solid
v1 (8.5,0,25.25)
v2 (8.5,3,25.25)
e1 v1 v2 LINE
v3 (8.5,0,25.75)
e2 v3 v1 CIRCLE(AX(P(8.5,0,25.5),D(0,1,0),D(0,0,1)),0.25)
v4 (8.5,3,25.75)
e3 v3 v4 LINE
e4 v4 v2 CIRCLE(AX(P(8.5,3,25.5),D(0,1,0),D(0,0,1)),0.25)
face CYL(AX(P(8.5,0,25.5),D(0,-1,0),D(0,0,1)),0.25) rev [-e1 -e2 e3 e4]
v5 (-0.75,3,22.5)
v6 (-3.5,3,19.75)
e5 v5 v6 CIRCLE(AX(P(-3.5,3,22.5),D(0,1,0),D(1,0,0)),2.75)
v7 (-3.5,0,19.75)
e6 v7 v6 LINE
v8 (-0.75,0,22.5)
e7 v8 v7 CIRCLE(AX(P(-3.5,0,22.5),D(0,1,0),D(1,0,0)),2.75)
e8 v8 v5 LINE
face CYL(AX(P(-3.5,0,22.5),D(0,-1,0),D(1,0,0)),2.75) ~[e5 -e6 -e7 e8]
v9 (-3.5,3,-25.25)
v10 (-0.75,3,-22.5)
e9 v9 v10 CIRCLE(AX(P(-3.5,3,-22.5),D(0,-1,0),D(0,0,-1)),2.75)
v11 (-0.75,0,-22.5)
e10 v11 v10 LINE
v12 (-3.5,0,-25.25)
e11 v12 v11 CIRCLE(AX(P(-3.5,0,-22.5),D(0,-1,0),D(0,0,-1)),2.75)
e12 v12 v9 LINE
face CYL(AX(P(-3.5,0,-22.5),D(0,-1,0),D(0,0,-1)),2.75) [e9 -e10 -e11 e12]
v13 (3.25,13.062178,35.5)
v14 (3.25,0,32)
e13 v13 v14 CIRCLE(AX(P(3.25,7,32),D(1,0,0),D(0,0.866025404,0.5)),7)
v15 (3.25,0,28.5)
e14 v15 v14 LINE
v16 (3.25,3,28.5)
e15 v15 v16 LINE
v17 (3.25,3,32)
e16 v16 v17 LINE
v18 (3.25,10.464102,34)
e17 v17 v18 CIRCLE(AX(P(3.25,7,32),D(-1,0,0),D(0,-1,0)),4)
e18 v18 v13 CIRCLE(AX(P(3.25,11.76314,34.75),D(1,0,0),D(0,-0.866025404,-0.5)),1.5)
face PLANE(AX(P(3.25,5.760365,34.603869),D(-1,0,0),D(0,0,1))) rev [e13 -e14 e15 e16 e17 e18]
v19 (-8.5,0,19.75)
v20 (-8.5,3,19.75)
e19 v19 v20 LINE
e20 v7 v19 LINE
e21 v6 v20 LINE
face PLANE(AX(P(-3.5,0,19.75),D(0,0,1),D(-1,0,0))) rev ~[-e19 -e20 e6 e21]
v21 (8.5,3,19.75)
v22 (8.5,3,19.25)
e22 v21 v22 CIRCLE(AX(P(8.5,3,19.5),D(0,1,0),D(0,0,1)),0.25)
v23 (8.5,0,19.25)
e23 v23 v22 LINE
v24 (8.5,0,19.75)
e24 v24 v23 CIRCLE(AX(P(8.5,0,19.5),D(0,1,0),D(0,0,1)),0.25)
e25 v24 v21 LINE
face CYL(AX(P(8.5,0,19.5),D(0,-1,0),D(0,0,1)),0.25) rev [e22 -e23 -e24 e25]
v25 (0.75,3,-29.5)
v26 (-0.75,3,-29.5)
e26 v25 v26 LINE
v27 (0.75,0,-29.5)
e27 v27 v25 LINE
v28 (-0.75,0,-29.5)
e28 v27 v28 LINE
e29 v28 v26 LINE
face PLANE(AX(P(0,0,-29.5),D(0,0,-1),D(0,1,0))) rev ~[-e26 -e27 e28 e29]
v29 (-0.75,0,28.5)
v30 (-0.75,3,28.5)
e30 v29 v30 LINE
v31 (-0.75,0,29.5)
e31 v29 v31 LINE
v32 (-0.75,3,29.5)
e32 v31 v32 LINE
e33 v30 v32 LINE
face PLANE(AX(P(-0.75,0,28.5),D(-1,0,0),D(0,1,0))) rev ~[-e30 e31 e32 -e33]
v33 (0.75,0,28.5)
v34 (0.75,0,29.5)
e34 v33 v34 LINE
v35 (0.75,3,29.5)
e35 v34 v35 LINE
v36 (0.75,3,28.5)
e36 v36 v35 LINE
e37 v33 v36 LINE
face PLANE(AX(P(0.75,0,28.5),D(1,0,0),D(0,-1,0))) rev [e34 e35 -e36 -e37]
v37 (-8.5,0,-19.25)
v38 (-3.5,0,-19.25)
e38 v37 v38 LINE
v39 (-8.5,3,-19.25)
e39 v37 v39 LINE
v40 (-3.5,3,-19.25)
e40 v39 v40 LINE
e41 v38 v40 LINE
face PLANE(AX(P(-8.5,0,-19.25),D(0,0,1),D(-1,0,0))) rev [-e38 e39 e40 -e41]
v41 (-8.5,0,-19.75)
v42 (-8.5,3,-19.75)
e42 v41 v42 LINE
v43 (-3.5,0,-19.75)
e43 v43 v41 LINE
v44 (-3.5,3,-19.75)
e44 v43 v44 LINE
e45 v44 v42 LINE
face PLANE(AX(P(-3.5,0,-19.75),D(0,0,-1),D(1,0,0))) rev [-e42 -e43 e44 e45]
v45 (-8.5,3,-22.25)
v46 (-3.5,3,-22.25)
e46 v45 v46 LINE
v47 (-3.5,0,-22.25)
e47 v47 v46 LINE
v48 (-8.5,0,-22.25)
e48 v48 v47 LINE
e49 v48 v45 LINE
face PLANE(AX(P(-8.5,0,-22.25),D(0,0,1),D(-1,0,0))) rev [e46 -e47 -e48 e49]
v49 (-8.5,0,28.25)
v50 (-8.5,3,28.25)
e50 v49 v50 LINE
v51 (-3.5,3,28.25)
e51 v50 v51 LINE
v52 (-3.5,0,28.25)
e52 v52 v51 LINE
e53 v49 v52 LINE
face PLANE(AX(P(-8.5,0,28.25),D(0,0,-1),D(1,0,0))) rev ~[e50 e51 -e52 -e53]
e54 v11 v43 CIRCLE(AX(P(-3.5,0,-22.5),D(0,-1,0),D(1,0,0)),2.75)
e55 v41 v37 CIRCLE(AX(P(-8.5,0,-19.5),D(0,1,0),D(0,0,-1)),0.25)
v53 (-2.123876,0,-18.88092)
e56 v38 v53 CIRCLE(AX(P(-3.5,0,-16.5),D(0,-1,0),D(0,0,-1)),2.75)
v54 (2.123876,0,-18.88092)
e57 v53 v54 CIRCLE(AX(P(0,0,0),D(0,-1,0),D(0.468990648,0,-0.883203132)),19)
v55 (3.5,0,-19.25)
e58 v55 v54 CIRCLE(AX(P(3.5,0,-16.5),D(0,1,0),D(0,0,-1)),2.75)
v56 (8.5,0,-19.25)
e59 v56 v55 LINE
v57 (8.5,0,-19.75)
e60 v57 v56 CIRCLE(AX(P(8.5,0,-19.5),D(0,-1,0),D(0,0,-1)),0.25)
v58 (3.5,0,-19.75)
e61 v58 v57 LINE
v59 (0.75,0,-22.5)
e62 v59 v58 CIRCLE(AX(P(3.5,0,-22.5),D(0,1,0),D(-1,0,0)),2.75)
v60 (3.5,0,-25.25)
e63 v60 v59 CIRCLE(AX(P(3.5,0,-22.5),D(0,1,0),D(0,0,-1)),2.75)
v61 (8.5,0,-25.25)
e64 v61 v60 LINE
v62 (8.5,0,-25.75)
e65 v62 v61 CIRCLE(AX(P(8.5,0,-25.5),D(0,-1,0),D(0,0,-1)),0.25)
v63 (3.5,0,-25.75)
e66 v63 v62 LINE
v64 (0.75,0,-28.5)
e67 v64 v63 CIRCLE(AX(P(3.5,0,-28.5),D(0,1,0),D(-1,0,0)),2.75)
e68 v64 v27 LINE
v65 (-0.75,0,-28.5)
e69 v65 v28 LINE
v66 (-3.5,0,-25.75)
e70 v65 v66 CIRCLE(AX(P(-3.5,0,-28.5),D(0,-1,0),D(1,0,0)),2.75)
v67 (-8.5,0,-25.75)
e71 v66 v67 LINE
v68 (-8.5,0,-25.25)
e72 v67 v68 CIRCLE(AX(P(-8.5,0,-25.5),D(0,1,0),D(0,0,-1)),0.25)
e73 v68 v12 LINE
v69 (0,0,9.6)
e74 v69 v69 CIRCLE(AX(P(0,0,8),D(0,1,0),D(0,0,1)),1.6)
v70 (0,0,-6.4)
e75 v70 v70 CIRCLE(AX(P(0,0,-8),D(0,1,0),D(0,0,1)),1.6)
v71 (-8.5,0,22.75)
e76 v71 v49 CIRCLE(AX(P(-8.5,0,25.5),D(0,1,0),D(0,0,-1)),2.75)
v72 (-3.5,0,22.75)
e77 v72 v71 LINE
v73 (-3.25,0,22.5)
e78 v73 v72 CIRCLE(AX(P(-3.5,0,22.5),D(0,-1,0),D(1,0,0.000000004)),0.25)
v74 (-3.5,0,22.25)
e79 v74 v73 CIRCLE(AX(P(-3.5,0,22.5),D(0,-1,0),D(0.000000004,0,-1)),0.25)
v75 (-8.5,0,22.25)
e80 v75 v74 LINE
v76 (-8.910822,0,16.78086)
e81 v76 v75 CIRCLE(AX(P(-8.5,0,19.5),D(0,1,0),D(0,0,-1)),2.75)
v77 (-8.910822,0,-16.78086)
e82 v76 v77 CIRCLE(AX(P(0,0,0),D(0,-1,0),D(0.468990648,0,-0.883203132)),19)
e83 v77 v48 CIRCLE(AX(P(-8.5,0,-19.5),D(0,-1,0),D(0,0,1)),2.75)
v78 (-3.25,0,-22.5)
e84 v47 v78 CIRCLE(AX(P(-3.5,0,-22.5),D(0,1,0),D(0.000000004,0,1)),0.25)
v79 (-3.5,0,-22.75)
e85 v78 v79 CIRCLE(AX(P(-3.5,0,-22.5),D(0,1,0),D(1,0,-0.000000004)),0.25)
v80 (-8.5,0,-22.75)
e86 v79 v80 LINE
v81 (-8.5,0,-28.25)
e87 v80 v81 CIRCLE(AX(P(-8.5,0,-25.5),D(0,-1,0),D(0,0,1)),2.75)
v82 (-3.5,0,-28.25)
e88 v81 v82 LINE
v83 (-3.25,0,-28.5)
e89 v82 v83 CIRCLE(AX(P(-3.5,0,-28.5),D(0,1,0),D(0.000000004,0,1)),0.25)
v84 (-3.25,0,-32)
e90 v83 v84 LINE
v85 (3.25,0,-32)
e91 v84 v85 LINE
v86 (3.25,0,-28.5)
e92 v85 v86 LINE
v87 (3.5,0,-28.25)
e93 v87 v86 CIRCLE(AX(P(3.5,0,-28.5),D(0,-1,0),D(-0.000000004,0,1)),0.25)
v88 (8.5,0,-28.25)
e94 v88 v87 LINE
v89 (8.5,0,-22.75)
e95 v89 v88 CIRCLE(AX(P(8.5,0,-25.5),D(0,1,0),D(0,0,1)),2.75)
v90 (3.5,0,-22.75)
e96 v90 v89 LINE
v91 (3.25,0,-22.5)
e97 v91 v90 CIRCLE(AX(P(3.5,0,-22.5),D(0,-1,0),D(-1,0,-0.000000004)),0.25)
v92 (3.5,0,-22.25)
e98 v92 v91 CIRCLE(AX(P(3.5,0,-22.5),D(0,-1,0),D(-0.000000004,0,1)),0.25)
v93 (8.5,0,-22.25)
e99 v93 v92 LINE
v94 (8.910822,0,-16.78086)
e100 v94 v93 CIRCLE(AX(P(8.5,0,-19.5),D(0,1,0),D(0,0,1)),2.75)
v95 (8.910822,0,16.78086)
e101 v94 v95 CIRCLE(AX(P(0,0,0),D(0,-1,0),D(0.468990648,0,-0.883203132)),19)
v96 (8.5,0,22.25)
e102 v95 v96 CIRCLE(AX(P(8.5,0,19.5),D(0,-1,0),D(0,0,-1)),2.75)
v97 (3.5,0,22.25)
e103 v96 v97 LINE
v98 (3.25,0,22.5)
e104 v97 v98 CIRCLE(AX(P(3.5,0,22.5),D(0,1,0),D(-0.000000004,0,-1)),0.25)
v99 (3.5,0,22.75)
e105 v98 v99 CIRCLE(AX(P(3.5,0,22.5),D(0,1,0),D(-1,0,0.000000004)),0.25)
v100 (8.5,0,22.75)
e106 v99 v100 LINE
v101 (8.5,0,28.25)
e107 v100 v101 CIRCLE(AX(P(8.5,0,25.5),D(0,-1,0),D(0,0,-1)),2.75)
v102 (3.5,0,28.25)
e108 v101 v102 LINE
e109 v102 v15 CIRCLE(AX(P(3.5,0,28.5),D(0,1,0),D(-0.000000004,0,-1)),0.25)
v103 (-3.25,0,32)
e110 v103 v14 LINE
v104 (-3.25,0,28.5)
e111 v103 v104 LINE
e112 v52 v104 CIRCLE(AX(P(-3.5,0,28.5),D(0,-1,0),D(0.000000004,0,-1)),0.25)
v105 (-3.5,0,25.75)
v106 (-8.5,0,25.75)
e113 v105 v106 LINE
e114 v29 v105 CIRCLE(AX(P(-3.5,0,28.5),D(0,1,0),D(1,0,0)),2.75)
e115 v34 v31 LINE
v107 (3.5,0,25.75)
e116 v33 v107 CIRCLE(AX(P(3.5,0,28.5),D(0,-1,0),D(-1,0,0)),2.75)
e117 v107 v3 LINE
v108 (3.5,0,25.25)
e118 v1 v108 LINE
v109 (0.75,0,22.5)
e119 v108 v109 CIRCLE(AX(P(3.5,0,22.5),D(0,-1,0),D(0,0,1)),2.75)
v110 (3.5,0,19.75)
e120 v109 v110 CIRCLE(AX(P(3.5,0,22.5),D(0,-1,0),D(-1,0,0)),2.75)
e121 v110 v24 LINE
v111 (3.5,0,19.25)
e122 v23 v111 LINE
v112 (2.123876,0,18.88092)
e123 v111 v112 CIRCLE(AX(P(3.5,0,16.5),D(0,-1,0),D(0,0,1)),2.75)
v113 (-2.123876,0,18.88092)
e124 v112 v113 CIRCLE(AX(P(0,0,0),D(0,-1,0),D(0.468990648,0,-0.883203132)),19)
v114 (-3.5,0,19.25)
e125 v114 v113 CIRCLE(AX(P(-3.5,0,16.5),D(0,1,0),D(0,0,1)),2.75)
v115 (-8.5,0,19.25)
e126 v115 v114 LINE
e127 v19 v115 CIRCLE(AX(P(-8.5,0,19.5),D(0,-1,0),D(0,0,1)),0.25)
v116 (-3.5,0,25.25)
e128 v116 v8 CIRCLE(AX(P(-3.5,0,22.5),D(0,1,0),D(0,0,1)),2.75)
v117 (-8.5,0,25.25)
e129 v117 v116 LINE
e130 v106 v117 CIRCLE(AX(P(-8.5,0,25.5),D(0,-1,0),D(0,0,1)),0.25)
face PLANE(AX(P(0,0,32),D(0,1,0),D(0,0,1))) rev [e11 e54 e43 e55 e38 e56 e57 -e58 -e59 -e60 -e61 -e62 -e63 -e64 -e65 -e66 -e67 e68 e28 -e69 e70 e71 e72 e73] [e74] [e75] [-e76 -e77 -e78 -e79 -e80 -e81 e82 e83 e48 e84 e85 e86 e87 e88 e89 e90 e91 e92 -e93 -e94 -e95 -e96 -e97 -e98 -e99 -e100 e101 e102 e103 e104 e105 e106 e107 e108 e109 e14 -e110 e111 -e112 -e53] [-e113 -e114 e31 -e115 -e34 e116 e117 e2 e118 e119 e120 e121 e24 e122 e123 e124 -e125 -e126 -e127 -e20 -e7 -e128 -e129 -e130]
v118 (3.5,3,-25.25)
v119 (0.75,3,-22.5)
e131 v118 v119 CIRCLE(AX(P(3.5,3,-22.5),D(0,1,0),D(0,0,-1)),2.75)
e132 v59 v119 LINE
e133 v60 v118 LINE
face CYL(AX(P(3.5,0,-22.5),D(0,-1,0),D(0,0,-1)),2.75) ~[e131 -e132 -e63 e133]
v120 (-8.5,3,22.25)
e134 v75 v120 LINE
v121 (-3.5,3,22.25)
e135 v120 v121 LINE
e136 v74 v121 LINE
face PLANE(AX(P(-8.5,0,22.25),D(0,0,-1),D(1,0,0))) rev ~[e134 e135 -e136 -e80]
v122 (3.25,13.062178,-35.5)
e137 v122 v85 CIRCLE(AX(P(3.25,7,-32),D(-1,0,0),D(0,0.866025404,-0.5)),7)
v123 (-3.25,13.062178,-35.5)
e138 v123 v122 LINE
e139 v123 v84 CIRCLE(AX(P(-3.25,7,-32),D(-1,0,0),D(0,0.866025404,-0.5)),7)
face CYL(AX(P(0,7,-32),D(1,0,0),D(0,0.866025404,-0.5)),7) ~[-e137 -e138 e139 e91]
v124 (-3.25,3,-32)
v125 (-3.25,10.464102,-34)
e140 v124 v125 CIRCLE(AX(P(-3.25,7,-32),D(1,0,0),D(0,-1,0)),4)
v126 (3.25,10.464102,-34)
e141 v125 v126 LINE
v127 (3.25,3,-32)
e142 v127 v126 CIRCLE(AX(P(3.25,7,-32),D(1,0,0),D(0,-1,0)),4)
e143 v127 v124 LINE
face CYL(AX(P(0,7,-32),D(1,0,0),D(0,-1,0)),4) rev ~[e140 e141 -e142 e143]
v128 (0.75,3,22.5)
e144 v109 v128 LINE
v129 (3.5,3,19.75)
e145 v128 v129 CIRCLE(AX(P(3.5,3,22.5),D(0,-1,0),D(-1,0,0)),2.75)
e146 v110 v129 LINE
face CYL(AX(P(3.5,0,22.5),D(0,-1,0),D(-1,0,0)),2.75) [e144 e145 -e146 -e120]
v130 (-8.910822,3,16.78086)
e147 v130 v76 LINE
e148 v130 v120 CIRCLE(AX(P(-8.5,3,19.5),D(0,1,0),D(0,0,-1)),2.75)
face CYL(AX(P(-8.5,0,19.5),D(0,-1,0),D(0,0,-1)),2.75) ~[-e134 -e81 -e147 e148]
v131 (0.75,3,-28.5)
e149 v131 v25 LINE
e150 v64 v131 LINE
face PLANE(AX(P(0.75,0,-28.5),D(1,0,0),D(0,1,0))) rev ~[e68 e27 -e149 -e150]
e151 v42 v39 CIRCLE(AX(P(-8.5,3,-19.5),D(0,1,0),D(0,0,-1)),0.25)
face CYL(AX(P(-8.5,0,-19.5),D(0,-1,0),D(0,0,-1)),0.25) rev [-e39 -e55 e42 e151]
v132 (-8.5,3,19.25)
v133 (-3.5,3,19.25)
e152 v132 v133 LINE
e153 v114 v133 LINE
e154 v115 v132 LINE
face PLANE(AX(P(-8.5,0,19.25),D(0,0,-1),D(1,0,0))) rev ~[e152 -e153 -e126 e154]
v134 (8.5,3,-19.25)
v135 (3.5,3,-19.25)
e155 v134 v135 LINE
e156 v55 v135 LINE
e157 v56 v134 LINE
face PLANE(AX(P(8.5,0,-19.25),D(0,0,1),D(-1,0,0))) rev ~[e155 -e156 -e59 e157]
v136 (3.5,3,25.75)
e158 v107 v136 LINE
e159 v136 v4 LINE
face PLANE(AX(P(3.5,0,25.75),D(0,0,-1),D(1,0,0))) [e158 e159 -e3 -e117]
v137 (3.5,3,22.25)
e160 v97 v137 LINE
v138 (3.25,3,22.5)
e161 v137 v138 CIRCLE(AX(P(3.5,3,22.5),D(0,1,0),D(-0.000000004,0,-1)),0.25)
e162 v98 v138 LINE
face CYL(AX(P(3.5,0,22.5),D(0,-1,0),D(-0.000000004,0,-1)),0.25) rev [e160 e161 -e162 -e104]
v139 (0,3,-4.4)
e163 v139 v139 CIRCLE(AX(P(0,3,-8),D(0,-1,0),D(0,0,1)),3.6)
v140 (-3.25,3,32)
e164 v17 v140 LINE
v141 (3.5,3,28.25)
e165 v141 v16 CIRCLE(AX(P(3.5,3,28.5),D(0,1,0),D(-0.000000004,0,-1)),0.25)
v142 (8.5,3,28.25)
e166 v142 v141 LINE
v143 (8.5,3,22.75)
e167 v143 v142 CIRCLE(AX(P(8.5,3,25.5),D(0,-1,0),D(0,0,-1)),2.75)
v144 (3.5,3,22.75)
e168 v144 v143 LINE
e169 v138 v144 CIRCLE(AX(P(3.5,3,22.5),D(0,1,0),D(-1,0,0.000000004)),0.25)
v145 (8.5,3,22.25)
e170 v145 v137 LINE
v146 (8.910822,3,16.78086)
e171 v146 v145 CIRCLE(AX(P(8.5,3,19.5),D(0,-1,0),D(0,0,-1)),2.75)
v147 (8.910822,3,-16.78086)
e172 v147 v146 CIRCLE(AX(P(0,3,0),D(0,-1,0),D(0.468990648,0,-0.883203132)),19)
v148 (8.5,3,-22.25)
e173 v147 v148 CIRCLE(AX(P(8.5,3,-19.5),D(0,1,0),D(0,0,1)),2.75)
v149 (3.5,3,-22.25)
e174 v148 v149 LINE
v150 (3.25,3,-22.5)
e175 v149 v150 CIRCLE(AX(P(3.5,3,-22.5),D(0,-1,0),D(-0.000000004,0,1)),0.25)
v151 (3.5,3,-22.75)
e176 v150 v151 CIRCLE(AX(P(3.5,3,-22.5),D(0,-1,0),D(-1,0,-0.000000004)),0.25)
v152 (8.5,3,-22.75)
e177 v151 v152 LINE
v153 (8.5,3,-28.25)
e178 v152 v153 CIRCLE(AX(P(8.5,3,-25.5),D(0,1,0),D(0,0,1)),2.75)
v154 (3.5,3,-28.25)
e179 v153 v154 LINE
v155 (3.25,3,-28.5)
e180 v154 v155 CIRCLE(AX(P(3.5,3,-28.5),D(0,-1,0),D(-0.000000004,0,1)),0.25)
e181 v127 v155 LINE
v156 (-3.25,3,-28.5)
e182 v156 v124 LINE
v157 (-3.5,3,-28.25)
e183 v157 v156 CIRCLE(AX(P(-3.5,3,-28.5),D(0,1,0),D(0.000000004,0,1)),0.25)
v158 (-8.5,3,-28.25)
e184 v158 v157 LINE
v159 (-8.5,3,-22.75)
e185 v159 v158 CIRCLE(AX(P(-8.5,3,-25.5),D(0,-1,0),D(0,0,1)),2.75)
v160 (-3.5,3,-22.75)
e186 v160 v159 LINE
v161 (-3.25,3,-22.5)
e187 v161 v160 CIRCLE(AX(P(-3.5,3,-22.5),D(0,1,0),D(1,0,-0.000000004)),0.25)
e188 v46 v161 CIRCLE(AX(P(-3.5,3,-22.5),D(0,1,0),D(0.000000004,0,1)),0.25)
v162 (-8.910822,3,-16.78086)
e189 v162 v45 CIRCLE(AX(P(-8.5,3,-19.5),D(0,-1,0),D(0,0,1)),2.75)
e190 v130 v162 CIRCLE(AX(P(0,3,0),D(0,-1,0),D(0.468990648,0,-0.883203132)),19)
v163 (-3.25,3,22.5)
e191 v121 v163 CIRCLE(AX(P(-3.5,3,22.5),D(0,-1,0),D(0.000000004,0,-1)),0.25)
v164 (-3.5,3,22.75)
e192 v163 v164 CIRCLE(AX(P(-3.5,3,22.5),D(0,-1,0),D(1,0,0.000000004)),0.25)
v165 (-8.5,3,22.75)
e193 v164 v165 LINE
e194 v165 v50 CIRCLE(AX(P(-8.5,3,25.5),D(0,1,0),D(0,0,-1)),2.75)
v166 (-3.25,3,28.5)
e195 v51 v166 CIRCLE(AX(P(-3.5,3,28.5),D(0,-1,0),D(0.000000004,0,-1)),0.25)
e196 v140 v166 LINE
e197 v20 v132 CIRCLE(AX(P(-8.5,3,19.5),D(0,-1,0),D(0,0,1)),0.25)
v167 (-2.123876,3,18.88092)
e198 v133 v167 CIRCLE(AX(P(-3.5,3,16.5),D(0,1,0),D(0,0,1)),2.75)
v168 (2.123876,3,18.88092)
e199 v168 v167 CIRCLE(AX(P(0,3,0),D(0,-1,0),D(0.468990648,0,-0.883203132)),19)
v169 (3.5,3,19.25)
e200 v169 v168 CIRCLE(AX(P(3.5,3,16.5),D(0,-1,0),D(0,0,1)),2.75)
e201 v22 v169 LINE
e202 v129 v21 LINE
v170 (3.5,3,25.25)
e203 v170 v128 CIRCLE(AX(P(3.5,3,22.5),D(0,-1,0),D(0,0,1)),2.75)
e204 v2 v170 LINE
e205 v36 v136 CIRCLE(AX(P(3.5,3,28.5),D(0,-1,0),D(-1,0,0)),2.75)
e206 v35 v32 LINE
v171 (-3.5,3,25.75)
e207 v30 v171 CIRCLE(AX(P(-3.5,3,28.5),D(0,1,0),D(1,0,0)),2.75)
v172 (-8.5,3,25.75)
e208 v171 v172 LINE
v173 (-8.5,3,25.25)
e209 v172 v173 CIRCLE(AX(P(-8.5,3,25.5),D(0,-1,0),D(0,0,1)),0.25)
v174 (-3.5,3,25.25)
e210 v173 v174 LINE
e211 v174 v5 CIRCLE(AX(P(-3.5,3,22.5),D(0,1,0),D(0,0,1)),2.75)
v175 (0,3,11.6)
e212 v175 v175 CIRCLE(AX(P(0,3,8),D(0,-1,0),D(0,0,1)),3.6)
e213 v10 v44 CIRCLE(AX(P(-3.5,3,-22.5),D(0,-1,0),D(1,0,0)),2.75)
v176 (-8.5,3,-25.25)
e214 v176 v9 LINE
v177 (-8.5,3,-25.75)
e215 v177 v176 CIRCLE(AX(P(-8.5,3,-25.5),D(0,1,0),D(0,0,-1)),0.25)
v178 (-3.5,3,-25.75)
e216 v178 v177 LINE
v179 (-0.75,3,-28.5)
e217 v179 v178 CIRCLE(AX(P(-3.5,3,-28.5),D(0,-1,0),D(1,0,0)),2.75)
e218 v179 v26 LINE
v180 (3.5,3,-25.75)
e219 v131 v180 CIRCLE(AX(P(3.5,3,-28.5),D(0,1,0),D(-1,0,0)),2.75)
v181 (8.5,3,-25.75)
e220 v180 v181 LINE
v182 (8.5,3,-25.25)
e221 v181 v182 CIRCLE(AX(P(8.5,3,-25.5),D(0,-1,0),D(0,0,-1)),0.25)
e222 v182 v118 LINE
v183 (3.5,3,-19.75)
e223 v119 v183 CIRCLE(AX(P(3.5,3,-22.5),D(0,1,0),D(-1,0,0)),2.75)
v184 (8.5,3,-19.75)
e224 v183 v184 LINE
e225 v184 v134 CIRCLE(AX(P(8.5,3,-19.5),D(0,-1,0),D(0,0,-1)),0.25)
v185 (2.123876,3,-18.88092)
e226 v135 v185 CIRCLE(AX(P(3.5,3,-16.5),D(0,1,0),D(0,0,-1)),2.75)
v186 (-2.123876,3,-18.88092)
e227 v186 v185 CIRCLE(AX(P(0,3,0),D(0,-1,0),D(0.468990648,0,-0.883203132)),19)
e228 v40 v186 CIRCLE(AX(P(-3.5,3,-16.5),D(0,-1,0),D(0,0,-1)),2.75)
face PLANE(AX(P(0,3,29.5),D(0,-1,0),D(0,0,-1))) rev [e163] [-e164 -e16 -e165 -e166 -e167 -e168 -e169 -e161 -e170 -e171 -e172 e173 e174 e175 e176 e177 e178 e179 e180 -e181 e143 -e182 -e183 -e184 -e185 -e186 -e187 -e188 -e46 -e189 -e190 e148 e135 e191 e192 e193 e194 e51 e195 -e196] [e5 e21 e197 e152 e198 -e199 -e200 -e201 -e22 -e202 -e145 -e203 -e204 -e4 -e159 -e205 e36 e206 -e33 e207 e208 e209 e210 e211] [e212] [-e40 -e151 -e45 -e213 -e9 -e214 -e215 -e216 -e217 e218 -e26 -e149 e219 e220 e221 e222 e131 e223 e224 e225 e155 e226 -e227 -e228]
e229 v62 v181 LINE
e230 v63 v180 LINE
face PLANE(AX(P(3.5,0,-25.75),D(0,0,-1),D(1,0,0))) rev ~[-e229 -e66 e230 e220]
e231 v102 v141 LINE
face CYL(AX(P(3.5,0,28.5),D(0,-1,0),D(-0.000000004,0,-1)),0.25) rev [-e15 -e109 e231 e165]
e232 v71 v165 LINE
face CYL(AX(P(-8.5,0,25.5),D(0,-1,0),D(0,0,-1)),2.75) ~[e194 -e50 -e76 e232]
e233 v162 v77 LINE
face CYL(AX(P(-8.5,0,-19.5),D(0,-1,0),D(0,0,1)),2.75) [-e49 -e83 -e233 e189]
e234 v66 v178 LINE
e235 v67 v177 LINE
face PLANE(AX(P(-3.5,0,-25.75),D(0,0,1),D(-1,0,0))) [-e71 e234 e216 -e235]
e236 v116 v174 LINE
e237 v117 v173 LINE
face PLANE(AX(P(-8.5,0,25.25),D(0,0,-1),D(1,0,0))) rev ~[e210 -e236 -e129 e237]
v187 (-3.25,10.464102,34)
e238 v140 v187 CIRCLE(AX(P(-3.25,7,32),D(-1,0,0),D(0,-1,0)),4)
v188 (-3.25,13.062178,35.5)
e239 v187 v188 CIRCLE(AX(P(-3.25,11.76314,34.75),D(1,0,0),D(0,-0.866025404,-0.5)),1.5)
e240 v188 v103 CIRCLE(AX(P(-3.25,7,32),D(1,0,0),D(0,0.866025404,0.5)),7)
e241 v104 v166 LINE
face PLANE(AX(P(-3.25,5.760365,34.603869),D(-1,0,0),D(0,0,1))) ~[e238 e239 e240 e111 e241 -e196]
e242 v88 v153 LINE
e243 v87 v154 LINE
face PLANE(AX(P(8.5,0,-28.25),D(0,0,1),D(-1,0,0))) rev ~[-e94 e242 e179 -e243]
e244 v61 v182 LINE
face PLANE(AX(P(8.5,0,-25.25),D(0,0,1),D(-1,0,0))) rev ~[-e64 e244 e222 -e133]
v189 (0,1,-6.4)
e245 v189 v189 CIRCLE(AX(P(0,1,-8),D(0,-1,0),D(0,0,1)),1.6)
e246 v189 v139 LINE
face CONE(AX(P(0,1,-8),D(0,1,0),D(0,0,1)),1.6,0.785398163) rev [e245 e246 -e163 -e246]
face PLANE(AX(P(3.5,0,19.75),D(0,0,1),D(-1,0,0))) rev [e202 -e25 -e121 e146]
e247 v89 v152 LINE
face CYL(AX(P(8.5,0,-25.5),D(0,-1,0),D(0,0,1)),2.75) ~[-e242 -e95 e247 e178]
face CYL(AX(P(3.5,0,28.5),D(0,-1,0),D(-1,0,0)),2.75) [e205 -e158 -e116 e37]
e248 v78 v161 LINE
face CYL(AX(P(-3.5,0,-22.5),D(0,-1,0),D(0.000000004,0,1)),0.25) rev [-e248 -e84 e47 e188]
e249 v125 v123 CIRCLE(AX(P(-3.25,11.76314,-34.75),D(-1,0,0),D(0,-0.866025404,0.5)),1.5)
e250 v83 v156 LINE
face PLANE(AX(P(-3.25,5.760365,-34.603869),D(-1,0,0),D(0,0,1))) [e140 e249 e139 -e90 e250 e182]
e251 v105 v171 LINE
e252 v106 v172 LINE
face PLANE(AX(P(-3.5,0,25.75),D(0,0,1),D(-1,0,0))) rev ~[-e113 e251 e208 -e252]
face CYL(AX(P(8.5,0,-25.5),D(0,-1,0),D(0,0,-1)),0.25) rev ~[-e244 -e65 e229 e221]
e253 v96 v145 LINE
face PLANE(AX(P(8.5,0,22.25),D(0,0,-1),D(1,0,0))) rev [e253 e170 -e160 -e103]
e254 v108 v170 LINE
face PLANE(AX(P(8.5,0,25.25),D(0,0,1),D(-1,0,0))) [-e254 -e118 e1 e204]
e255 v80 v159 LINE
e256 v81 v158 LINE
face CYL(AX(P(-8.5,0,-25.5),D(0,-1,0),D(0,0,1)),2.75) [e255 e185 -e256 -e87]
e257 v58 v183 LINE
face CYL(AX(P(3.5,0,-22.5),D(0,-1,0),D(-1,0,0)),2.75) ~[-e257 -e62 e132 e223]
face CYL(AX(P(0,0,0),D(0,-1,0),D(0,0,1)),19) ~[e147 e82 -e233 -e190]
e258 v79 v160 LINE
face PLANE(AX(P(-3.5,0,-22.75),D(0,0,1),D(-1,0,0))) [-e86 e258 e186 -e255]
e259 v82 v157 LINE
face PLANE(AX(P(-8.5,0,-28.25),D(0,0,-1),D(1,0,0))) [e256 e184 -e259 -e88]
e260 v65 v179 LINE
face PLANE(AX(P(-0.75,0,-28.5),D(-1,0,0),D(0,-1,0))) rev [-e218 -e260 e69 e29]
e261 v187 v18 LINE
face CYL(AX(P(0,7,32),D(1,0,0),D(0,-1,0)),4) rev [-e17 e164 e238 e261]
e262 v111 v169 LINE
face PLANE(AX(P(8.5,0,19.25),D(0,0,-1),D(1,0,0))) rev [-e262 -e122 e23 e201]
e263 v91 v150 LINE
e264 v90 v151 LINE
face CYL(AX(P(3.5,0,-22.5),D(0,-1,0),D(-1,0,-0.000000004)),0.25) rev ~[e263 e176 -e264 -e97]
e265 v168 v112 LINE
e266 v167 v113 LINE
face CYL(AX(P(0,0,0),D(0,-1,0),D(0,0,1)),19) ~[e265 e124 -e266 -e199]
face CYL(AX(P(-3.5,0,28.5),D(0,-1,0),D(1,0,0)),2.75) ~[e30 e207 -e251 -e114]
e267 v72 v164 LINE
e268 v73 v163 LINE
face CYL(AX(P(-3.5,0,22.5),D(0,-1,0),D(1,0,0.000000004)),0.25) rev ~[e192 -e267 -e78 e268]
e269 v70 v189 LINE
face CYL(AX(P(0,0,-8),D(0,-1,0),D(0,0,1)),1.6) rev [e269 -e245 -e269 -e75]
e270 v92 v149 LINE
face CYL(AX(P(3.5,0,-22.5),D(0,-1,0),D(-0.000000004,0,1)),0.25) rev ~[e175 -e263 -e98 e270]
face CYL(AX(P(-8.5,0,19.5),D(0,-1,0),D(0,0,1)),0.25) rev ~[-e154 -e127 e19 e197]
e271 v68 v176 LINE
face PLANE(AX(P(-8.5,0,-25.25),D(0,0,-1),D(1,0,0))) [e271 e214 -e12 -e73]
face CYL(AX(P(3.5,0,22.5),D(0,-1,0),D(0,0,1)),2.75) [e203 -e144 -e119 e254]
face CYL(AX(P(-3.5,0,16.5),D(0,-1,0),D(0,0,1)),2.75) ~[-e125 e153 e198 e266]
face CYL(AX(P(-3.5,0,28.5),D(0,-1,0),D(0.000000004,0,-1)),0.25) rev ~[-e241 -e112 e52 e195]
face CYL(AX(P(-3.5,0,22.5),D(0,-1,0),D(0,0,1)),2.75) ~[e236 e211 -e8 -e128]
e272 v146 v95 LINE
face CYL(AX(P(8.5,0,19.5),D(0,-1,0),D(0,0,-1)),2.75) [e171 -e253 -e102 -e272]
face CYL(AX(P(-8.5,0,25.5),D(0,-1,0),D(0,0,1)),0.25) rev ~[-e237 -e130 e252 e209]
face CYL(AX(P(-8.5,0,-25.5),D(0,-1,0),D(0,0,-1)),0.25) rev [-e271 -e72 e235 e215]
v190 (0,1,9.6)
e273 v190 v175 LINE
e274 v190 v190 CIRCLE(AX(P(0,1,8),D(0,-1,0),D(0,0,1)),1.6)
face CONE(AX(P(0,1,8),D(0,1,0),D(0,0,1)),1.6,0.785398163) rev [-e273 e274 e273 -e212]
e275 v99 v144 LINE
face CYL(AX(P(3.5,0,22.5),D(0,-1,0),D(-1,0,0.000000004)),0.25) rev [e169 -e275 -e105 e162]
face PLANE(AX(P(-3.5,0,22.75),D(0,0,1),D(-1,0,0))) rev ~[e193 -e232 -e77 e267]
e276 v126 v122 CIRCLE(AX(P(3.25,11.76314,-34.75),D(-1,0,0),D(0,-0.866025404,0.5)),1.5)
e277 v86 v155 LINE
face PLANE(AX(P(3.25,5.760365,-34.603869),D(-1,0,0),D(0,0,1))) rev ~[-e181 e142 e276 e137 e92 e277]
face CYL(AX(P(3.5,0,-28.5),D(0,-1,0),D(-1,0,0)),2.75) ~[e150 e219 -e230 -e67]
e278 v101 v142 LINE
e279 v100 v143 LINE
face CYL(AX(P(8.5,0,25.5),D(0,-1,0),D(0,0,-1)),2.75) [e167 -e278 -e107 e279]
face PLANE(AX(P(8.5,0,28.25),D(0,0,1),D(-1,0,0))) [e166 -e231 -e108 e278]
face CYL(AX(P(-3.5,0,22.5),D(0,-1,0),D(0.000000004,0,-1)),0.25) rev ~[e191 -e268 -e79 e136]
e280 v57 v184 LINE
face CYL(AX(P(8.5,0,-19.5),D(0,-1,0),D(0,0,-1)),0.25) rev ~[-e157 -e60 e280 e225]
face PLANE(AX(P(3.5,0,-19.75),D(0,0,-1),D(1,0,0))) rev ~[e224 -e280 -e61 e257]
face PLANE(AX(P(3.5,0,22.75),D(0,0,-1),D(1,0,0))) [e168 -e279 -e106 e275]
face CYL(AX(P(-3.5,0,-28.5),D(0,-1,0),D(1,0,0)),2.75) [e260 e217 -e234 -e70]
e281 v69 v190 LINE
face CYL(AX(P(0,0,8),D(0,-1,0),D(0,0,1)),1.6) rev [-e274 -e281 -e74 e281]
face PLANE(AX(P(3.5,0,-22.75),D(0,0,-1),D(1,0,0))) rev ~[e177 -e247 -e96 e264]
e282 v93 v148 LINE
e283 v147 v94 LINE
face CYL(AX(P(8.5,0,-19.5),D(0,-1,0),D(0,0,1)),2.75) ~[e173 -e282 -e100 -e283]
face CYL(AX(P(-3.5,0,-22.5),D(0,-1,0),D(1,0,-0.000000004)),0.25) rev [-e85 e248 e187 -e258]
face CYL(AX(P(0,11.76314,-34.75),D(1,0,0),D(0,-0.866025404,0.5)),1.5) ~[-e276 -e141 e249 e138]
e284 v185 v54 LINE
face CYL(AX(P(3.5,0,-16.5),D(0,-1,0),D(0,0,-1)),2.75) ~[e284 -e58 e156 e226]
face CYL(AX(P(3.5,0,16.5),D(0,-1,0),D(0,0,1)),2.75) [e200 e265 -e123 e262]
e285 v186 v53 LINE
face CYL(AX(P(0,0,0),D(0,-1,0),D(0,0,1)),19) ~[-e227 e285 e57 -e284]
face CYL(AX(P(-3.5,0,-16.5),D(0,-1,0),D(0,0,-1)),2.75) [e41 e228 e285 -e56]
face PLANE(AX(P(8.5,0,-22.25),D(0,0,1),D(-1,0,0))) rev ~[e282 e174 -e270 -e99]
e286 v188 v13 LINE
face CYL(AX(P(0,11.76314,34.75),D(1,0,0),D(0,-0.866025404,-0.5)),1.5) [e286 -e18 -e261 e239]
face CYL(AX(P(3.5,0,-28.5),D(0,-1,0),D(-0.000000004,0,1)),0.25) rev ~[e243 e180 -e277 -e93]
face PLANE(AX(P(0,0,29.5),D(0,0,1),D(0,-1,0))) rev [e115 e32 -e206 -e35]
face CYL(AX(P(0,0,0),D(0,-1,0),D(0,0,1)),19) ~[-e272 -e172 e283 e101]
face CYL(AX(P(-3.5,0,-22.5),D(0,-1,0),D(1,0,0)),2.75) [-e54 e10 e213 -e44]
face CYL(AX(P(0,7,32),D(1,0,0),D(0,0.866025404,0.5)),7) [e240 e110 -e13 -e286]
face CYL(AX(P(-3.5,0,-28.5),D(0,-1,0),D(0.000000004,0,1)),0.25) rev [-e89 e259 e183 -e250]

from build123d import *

# Parameters (mm, degrees)
SKETCH1_R                                  = 19
BODY_DEPTH                                 = 3
SPRING_PROFILE_DEPTH                       = 3
SPRING_PATTERN_COUNT                       = 2
SPRING_PATTERN_PITCH                       = 6
SKETCH5_W                                  = 2.5
SKETCH5_H                                  = 3
SPRING_EXTENSION_DEPTH                     = 1
MIRROR1_COPY_1_DEPTH                       = 3
MIRROR1_AT_THE_SECOND_PLANE_COPY_1_DEPTH   = 3
MIRROR1_AT_THE_SECOND_PLANE_COPY_2_DEPTH   = 3
MIRROR1_AT_THE_SECOND_PLANE_COPY_3_SKETC_W = 2.5
MIRROR1_AT_THE_SECOND_PLANE_COPY_3_SKETC_H = 3
MIRROR1_AT_THE_SECOND_PLANE_COPY_3_DEPTH   = 1
MIRROR1_AT_THE_SECOND_PLANE_COPY_4_DEPTH   = 3
CLAMP_DEPTH                                = 3.25
SKETCH6_R                                  = 1.6
SCREW_HOLES_DEPTH                          = 46.364202575
SCREW_CHAMFER_SIZE                         = 2


with BuildPart() as part:
    # Sketch1 → Body (new body)
    with BuildSketch(Plane(origin=(0, 0, 0), x_dir=(1, 0, 0), z_dir=(0, 1, 0))):
        with Locations(Location((0, 0, 0), (0, 0, 270))):
            Circle(SKETCH1_R)
    extrude(amount=BODY_DEPTH)

    # Sketch2 → Spring profile (add)
    with BuildSketch(Plane(origin=(0, 0, 0), x_dir=(1, 0, 0), z_dir=(0, 1, 0))):
        with BuildLine():
            ThreePointArc((3.25, 16.5), (3.323223305, 16.676776695), (3.5, 16.75))
            Line((3.5, 16.75), (8.5, 16.75))
            ThreePointArc((8.5, 16.75), (11.25, 19.5), (8.5, 22.25))
            Line((8.5, 22.25), (3.5, 22.25))
            ThreePointArc((3.5, 22.25), (3.323223305, 22.323223305), (3.25, 22.5))
            Line((3.25, 22.5), (0.75, 22.5))
            ThreePointArc((0.75, 22.5), (1.555456352, 20.555456352), (3.5, 19.75))
            Line((3.5, 19.75), (8.5, 19.75))
            ThreePointArc((8.5, 19.75), (8.75, 19.5), (8.5, 19.25))
            Line((8.5, 19.25), (3.5, 19.25))
            ThreePointArc((3.5, 19.25), (1.555456352, 18.444543648), (0.75, 16.5))
            Line((0.75, 16.5), (3.25, 16.5))
        make_face()
    spring_profile = extrude(amount=SPRING_PROFILE_DEPTH)

    # Spring pattern: Spring profile ×2
    with Locations(*[(0, 0, -i * SPRING_PATTERN_PITCH) for i in range(1, SPRING_PATTERN_COUNT)]):
        add(spring_profile)

    # Sketch5 → Spring extension (add)
    with BuildSketch(Plane(origin=(0, 0, -28.5), x_dir=(-1, 0, 0), z_dir=(0, 0, -1))):
        with Locations((-2, 1.5)):
            Rectangle(SKETCH5_W, SKETCH5_H)
    spring_extension = extrude(amount=SPRING_EXTENSION_DEPTH)

    # Mirror1: Spring profile, Spring extension across plane
    add(spring_profile.mirror(Plane.XY))
    add(spring_extension.mirror(Plane.XY))

    # Mirror1 copy 1 sketch → Mirror1 copy 1 (add)
    with BuildSketch(Plane(origin=(0, 0, 6), x_dir=(1, 0, 0), z_dir=(0, 1, 0))):
        with BuildLine():
            ThreePointArc((3.25, -16.5), (3.323223305, -16.676776695), (3.5, -16.75))
            Line((3.5, -16.75), (8.5, -16.75))
            ThreePointArc((8.5, -16.75), (11.25, -19.5), (8.5, -22.25))
            Line((8.5, -22.25), (3.5, -22.25))
            ThreePointArc((3.5, -22.25), (3.323223305, -22.323223305), (3.25, -22.5))
            Line((3.25, -22.5), (0.75, -22.5))
            ThreePointArc((0.75, -22.5), (1.555456352, -20.555456352), (3.5, -19.75))
            Line((3.5, -19.75), (8.5, -19.75))
            ThreePointArc((8.5, -19.75), (8.75, -19.5), (8.5, -19.25))
            Line((8.5, -19.25), (3.5, -19.25))
            ThreePointArc((3.5, -19.25), (1.555456352, -18.444543648), (0.75, -16.5))
            Line((0.75, -16.5), (3.25, -16.5))
        make_face()
    extrude(amount=MIRROR1_COPY_1_DEPTH)

    # Mirror1 at the second plane: Spring profile, Spring extension across plane
    add(spring_profile.mirror(Plane(origin=(0, 0, 0), x_dir=(0, 0, 1), z_dir=(1, 0, 0))))
    add(spring_extension.mirror(Plane(origin=(0, 0, 0), x_dir=(0, 0, 1), z_dir=(1, 0, 0))))

    # Mirror1 at the second plane copy 1 sketc → Mirror1 at the second plane copy 1 (add)
    with BuildSketch(Plane(origin=(0, 0, -6), x_dir=(-1, 0, 0), z_dir=(0, 1, 0))):
        with BuildLine():
            ThreePointArc((3.25, -16.5), (3.323223305, -16.676776695), (3.5, -16.75))
            Line((3.5, -16.75), (8.5, -16.75))
            ThreePointArc((8.5, -16.75), (11.25, -19.5), (8.5, -22.25))
            Line((8.5, -22.25), (3.5, -22.25))
            ThreePointArc((3.5, -22.25), (3.323223305, -22.323223305), (3.25, -22.5))
            Line((3.25, -22.5), (0.75, -22.5))
            ThreePointArc((0.75, -22.5), (1.555456352, -20.555456352), (3.5, -19.75))
            Line((3.5, -19.75), (8.5, -19.75))
            ThreePointArc((8.5, -19.75), (8.75, -19.5), (8.5, -19.25))
            Line((8.5, -19.25), (3.5, -19.25))
            ThreePointArc((3.5, -19.25), (1.555456352, -18.444543648), (0.75, -16.5))
            Line((0.75, -16.5), (3.25, -16.5))
        make_face()
    extrude(amount=MIRROR1_AT_THE_SECOND_PLANE_COPY_1_DEPTH)

    # Mirror1 at the second plane copy 2 sketc → Mirror1 at the second plane copy 2 (add)
    with BuildSketch(Plane(origin=(0, 0, 0), x_dir=(-1, 0, 0), z_dir=(0, 1, 0))):
        with BuildLine():
            ThreePointArc((3.25, 16.5), (3.323223305, 16.676776695), (3.5, 16.75))
            Line((3.5, 16.75), (8.5, 16.75))
            ThreePointArc((8.5, 16.75), (11.25, 19.5), (8.5, 22.25))
            Line((8.5, 22.25), (3.5, 22.25))
            ThreePointArc((3.5, 22.25), (3.323223305, 22.323223305), (3.25, 22.5))
            Line((3.25, 22.5), (0.75, 22.5))
            ThreePointArc((0.75, 22.5), (1.555456352, 20.555456352), (3.5, 19.75))
            Line((3.5, 19.75), (8.5, 19.75))
            ThreePointArc((8.5, 19.75), (8.75, 19.5), (8.5, 19.25))
            Line((8.5, 19.25), (3.5, 19.25))
            ThreePointArc((3.5, 19.25), (1.555456352, 18.444543648), (0.75, 16.5))
            Line((0.75, 16.5), (3.25, 16.5))
        make_face()
    extrude(amount=MIRROR1_AT_THE_SECOND_PLANE_COPY_2_DEPTH)



with BuildPart() as body_2:
    # Mirror1 at the second plane copy 3 sketc → Mirror1 at the second plane copy 3 (new body)
    with BuildSketch(Plane.XY.offset(28.5)):
        with Locations((-2, 1.5)):
            Rectangle(MIRROR1_AT_THE_SECOND_PLANE_COPY_3_SKETC_W, MIRROR1_AT_THE_SECOND_PLANE_COPY_3_SKETC_H)
    extrude(amount=MIRROR1_AT_THE_SECOND_PLANE_COPY_3_DEPTH)


with BuildPart() as part_1:
    add(part.part)

    add(body_2.part)  # Mirror1 at the second plane copy 4 merges body 2
    # Mirror1 at the second plane copy 4 sketc → Mirror1 at the second plane copy 4 (add)
    with BuildSketch(Plane(origin=(0, 0, 6), x_dir=(-1, 0, 0), z_dir=(0, 1, 0))):
        with BuildLine():
            ThreePointArc((3.25, 16.5), (3.323223305, 16.676776695), (3.5, 16.75))
            Line((3.5, 16.75), (8.5, 16.75))
            ThreePointArc((8.5, 16.75), (11.25, 19.5), (8.5, 22.25))
            Line((8.5, 22.25), (3.5, 22.25))
            ThreePointArc((3.5, 22.25), (3.323223305, 22.323223305), (3.25, 22.5))
            Line((3.25, 22.5), (0.75, 22.5))
            ThreePointArc((0.75, 22.5), (1.555456352, 20.555456352), (3.5, 19.75))
            Line((3.5, 19.75), (8.5, 19.75))
            ThreePointArc((8.5, 19.75), (8.75, 19.5), (8.5, 19.25))
            Line((8.5, 19.25), (3.5, 19.25))
            ThreePointArc((3.5, 19.25), (1.555456352, 18.444543648), (0.75, 16.5))
            Line((0.75, 16.5), (3.25, 16.5))
        make_face()
    extrude(amount=MIRROR1_AT_THE_SECOND_PLANE_COPY_4_DEPTH)

    # Sketch4 → Clamp (add, symmetric)
    with BuildSketch(Plane(origin=(0, 0, 0), x_dir=(0, 0, -1), z_dir=(1, 0, 0))):
        with BuildLine():
            Line((32, 0), (29.5, 0))
            Line((29.5, 0), (29.5, 3))
            Line((29.5, 3), (32, 3))
            ThreePointArc((32, 3), (35.863703305, 5.96472382), (34, 10.464101615))
            ThreePointArc((34, 10.464101615), (33.450961894, 12.513139721), (35.5, 13.062177826))
            ThreePointArc((35.5, 13.062177826), (38.761480784, 5.188266684), (32, 0))
        make_face()
    clamp = extrude(amount=CLAMP_DEPTH, both=True)

    # Mirror2: Clamp across plane
    add(clamp.mirror(Plane.XY))

    # Sketch6 → Screw holes (cut, through all)
    with BuildSketch(Plane(origin=(0, 0, 0), x_dir=(1, 0, 0), z_dir=(0, 1, 0))):
        with Locations(Location((0, -8, 0), (0, 0, 270))):
            Circle(SKETCH6_R)
        with Locations(Location((0, 8, 0), (0, 0, 270))):
            Circle(SKETCH6_R)
    extrude(amount=SCREW_HOLES_DEPTH, mode=Mode.SUBTRACT)

    # Screw chamfer
    screw_chamfer_edges = [part_1.edges().sort_by_distance(p)[0] for p in [
        (0, 3, 6.4),
        (0, 3, -9.6),
    ]]
    chamfer(screw_chamfer_edges, length=SCREW_CHAMFER_SIZE)


solid = part_1.part
